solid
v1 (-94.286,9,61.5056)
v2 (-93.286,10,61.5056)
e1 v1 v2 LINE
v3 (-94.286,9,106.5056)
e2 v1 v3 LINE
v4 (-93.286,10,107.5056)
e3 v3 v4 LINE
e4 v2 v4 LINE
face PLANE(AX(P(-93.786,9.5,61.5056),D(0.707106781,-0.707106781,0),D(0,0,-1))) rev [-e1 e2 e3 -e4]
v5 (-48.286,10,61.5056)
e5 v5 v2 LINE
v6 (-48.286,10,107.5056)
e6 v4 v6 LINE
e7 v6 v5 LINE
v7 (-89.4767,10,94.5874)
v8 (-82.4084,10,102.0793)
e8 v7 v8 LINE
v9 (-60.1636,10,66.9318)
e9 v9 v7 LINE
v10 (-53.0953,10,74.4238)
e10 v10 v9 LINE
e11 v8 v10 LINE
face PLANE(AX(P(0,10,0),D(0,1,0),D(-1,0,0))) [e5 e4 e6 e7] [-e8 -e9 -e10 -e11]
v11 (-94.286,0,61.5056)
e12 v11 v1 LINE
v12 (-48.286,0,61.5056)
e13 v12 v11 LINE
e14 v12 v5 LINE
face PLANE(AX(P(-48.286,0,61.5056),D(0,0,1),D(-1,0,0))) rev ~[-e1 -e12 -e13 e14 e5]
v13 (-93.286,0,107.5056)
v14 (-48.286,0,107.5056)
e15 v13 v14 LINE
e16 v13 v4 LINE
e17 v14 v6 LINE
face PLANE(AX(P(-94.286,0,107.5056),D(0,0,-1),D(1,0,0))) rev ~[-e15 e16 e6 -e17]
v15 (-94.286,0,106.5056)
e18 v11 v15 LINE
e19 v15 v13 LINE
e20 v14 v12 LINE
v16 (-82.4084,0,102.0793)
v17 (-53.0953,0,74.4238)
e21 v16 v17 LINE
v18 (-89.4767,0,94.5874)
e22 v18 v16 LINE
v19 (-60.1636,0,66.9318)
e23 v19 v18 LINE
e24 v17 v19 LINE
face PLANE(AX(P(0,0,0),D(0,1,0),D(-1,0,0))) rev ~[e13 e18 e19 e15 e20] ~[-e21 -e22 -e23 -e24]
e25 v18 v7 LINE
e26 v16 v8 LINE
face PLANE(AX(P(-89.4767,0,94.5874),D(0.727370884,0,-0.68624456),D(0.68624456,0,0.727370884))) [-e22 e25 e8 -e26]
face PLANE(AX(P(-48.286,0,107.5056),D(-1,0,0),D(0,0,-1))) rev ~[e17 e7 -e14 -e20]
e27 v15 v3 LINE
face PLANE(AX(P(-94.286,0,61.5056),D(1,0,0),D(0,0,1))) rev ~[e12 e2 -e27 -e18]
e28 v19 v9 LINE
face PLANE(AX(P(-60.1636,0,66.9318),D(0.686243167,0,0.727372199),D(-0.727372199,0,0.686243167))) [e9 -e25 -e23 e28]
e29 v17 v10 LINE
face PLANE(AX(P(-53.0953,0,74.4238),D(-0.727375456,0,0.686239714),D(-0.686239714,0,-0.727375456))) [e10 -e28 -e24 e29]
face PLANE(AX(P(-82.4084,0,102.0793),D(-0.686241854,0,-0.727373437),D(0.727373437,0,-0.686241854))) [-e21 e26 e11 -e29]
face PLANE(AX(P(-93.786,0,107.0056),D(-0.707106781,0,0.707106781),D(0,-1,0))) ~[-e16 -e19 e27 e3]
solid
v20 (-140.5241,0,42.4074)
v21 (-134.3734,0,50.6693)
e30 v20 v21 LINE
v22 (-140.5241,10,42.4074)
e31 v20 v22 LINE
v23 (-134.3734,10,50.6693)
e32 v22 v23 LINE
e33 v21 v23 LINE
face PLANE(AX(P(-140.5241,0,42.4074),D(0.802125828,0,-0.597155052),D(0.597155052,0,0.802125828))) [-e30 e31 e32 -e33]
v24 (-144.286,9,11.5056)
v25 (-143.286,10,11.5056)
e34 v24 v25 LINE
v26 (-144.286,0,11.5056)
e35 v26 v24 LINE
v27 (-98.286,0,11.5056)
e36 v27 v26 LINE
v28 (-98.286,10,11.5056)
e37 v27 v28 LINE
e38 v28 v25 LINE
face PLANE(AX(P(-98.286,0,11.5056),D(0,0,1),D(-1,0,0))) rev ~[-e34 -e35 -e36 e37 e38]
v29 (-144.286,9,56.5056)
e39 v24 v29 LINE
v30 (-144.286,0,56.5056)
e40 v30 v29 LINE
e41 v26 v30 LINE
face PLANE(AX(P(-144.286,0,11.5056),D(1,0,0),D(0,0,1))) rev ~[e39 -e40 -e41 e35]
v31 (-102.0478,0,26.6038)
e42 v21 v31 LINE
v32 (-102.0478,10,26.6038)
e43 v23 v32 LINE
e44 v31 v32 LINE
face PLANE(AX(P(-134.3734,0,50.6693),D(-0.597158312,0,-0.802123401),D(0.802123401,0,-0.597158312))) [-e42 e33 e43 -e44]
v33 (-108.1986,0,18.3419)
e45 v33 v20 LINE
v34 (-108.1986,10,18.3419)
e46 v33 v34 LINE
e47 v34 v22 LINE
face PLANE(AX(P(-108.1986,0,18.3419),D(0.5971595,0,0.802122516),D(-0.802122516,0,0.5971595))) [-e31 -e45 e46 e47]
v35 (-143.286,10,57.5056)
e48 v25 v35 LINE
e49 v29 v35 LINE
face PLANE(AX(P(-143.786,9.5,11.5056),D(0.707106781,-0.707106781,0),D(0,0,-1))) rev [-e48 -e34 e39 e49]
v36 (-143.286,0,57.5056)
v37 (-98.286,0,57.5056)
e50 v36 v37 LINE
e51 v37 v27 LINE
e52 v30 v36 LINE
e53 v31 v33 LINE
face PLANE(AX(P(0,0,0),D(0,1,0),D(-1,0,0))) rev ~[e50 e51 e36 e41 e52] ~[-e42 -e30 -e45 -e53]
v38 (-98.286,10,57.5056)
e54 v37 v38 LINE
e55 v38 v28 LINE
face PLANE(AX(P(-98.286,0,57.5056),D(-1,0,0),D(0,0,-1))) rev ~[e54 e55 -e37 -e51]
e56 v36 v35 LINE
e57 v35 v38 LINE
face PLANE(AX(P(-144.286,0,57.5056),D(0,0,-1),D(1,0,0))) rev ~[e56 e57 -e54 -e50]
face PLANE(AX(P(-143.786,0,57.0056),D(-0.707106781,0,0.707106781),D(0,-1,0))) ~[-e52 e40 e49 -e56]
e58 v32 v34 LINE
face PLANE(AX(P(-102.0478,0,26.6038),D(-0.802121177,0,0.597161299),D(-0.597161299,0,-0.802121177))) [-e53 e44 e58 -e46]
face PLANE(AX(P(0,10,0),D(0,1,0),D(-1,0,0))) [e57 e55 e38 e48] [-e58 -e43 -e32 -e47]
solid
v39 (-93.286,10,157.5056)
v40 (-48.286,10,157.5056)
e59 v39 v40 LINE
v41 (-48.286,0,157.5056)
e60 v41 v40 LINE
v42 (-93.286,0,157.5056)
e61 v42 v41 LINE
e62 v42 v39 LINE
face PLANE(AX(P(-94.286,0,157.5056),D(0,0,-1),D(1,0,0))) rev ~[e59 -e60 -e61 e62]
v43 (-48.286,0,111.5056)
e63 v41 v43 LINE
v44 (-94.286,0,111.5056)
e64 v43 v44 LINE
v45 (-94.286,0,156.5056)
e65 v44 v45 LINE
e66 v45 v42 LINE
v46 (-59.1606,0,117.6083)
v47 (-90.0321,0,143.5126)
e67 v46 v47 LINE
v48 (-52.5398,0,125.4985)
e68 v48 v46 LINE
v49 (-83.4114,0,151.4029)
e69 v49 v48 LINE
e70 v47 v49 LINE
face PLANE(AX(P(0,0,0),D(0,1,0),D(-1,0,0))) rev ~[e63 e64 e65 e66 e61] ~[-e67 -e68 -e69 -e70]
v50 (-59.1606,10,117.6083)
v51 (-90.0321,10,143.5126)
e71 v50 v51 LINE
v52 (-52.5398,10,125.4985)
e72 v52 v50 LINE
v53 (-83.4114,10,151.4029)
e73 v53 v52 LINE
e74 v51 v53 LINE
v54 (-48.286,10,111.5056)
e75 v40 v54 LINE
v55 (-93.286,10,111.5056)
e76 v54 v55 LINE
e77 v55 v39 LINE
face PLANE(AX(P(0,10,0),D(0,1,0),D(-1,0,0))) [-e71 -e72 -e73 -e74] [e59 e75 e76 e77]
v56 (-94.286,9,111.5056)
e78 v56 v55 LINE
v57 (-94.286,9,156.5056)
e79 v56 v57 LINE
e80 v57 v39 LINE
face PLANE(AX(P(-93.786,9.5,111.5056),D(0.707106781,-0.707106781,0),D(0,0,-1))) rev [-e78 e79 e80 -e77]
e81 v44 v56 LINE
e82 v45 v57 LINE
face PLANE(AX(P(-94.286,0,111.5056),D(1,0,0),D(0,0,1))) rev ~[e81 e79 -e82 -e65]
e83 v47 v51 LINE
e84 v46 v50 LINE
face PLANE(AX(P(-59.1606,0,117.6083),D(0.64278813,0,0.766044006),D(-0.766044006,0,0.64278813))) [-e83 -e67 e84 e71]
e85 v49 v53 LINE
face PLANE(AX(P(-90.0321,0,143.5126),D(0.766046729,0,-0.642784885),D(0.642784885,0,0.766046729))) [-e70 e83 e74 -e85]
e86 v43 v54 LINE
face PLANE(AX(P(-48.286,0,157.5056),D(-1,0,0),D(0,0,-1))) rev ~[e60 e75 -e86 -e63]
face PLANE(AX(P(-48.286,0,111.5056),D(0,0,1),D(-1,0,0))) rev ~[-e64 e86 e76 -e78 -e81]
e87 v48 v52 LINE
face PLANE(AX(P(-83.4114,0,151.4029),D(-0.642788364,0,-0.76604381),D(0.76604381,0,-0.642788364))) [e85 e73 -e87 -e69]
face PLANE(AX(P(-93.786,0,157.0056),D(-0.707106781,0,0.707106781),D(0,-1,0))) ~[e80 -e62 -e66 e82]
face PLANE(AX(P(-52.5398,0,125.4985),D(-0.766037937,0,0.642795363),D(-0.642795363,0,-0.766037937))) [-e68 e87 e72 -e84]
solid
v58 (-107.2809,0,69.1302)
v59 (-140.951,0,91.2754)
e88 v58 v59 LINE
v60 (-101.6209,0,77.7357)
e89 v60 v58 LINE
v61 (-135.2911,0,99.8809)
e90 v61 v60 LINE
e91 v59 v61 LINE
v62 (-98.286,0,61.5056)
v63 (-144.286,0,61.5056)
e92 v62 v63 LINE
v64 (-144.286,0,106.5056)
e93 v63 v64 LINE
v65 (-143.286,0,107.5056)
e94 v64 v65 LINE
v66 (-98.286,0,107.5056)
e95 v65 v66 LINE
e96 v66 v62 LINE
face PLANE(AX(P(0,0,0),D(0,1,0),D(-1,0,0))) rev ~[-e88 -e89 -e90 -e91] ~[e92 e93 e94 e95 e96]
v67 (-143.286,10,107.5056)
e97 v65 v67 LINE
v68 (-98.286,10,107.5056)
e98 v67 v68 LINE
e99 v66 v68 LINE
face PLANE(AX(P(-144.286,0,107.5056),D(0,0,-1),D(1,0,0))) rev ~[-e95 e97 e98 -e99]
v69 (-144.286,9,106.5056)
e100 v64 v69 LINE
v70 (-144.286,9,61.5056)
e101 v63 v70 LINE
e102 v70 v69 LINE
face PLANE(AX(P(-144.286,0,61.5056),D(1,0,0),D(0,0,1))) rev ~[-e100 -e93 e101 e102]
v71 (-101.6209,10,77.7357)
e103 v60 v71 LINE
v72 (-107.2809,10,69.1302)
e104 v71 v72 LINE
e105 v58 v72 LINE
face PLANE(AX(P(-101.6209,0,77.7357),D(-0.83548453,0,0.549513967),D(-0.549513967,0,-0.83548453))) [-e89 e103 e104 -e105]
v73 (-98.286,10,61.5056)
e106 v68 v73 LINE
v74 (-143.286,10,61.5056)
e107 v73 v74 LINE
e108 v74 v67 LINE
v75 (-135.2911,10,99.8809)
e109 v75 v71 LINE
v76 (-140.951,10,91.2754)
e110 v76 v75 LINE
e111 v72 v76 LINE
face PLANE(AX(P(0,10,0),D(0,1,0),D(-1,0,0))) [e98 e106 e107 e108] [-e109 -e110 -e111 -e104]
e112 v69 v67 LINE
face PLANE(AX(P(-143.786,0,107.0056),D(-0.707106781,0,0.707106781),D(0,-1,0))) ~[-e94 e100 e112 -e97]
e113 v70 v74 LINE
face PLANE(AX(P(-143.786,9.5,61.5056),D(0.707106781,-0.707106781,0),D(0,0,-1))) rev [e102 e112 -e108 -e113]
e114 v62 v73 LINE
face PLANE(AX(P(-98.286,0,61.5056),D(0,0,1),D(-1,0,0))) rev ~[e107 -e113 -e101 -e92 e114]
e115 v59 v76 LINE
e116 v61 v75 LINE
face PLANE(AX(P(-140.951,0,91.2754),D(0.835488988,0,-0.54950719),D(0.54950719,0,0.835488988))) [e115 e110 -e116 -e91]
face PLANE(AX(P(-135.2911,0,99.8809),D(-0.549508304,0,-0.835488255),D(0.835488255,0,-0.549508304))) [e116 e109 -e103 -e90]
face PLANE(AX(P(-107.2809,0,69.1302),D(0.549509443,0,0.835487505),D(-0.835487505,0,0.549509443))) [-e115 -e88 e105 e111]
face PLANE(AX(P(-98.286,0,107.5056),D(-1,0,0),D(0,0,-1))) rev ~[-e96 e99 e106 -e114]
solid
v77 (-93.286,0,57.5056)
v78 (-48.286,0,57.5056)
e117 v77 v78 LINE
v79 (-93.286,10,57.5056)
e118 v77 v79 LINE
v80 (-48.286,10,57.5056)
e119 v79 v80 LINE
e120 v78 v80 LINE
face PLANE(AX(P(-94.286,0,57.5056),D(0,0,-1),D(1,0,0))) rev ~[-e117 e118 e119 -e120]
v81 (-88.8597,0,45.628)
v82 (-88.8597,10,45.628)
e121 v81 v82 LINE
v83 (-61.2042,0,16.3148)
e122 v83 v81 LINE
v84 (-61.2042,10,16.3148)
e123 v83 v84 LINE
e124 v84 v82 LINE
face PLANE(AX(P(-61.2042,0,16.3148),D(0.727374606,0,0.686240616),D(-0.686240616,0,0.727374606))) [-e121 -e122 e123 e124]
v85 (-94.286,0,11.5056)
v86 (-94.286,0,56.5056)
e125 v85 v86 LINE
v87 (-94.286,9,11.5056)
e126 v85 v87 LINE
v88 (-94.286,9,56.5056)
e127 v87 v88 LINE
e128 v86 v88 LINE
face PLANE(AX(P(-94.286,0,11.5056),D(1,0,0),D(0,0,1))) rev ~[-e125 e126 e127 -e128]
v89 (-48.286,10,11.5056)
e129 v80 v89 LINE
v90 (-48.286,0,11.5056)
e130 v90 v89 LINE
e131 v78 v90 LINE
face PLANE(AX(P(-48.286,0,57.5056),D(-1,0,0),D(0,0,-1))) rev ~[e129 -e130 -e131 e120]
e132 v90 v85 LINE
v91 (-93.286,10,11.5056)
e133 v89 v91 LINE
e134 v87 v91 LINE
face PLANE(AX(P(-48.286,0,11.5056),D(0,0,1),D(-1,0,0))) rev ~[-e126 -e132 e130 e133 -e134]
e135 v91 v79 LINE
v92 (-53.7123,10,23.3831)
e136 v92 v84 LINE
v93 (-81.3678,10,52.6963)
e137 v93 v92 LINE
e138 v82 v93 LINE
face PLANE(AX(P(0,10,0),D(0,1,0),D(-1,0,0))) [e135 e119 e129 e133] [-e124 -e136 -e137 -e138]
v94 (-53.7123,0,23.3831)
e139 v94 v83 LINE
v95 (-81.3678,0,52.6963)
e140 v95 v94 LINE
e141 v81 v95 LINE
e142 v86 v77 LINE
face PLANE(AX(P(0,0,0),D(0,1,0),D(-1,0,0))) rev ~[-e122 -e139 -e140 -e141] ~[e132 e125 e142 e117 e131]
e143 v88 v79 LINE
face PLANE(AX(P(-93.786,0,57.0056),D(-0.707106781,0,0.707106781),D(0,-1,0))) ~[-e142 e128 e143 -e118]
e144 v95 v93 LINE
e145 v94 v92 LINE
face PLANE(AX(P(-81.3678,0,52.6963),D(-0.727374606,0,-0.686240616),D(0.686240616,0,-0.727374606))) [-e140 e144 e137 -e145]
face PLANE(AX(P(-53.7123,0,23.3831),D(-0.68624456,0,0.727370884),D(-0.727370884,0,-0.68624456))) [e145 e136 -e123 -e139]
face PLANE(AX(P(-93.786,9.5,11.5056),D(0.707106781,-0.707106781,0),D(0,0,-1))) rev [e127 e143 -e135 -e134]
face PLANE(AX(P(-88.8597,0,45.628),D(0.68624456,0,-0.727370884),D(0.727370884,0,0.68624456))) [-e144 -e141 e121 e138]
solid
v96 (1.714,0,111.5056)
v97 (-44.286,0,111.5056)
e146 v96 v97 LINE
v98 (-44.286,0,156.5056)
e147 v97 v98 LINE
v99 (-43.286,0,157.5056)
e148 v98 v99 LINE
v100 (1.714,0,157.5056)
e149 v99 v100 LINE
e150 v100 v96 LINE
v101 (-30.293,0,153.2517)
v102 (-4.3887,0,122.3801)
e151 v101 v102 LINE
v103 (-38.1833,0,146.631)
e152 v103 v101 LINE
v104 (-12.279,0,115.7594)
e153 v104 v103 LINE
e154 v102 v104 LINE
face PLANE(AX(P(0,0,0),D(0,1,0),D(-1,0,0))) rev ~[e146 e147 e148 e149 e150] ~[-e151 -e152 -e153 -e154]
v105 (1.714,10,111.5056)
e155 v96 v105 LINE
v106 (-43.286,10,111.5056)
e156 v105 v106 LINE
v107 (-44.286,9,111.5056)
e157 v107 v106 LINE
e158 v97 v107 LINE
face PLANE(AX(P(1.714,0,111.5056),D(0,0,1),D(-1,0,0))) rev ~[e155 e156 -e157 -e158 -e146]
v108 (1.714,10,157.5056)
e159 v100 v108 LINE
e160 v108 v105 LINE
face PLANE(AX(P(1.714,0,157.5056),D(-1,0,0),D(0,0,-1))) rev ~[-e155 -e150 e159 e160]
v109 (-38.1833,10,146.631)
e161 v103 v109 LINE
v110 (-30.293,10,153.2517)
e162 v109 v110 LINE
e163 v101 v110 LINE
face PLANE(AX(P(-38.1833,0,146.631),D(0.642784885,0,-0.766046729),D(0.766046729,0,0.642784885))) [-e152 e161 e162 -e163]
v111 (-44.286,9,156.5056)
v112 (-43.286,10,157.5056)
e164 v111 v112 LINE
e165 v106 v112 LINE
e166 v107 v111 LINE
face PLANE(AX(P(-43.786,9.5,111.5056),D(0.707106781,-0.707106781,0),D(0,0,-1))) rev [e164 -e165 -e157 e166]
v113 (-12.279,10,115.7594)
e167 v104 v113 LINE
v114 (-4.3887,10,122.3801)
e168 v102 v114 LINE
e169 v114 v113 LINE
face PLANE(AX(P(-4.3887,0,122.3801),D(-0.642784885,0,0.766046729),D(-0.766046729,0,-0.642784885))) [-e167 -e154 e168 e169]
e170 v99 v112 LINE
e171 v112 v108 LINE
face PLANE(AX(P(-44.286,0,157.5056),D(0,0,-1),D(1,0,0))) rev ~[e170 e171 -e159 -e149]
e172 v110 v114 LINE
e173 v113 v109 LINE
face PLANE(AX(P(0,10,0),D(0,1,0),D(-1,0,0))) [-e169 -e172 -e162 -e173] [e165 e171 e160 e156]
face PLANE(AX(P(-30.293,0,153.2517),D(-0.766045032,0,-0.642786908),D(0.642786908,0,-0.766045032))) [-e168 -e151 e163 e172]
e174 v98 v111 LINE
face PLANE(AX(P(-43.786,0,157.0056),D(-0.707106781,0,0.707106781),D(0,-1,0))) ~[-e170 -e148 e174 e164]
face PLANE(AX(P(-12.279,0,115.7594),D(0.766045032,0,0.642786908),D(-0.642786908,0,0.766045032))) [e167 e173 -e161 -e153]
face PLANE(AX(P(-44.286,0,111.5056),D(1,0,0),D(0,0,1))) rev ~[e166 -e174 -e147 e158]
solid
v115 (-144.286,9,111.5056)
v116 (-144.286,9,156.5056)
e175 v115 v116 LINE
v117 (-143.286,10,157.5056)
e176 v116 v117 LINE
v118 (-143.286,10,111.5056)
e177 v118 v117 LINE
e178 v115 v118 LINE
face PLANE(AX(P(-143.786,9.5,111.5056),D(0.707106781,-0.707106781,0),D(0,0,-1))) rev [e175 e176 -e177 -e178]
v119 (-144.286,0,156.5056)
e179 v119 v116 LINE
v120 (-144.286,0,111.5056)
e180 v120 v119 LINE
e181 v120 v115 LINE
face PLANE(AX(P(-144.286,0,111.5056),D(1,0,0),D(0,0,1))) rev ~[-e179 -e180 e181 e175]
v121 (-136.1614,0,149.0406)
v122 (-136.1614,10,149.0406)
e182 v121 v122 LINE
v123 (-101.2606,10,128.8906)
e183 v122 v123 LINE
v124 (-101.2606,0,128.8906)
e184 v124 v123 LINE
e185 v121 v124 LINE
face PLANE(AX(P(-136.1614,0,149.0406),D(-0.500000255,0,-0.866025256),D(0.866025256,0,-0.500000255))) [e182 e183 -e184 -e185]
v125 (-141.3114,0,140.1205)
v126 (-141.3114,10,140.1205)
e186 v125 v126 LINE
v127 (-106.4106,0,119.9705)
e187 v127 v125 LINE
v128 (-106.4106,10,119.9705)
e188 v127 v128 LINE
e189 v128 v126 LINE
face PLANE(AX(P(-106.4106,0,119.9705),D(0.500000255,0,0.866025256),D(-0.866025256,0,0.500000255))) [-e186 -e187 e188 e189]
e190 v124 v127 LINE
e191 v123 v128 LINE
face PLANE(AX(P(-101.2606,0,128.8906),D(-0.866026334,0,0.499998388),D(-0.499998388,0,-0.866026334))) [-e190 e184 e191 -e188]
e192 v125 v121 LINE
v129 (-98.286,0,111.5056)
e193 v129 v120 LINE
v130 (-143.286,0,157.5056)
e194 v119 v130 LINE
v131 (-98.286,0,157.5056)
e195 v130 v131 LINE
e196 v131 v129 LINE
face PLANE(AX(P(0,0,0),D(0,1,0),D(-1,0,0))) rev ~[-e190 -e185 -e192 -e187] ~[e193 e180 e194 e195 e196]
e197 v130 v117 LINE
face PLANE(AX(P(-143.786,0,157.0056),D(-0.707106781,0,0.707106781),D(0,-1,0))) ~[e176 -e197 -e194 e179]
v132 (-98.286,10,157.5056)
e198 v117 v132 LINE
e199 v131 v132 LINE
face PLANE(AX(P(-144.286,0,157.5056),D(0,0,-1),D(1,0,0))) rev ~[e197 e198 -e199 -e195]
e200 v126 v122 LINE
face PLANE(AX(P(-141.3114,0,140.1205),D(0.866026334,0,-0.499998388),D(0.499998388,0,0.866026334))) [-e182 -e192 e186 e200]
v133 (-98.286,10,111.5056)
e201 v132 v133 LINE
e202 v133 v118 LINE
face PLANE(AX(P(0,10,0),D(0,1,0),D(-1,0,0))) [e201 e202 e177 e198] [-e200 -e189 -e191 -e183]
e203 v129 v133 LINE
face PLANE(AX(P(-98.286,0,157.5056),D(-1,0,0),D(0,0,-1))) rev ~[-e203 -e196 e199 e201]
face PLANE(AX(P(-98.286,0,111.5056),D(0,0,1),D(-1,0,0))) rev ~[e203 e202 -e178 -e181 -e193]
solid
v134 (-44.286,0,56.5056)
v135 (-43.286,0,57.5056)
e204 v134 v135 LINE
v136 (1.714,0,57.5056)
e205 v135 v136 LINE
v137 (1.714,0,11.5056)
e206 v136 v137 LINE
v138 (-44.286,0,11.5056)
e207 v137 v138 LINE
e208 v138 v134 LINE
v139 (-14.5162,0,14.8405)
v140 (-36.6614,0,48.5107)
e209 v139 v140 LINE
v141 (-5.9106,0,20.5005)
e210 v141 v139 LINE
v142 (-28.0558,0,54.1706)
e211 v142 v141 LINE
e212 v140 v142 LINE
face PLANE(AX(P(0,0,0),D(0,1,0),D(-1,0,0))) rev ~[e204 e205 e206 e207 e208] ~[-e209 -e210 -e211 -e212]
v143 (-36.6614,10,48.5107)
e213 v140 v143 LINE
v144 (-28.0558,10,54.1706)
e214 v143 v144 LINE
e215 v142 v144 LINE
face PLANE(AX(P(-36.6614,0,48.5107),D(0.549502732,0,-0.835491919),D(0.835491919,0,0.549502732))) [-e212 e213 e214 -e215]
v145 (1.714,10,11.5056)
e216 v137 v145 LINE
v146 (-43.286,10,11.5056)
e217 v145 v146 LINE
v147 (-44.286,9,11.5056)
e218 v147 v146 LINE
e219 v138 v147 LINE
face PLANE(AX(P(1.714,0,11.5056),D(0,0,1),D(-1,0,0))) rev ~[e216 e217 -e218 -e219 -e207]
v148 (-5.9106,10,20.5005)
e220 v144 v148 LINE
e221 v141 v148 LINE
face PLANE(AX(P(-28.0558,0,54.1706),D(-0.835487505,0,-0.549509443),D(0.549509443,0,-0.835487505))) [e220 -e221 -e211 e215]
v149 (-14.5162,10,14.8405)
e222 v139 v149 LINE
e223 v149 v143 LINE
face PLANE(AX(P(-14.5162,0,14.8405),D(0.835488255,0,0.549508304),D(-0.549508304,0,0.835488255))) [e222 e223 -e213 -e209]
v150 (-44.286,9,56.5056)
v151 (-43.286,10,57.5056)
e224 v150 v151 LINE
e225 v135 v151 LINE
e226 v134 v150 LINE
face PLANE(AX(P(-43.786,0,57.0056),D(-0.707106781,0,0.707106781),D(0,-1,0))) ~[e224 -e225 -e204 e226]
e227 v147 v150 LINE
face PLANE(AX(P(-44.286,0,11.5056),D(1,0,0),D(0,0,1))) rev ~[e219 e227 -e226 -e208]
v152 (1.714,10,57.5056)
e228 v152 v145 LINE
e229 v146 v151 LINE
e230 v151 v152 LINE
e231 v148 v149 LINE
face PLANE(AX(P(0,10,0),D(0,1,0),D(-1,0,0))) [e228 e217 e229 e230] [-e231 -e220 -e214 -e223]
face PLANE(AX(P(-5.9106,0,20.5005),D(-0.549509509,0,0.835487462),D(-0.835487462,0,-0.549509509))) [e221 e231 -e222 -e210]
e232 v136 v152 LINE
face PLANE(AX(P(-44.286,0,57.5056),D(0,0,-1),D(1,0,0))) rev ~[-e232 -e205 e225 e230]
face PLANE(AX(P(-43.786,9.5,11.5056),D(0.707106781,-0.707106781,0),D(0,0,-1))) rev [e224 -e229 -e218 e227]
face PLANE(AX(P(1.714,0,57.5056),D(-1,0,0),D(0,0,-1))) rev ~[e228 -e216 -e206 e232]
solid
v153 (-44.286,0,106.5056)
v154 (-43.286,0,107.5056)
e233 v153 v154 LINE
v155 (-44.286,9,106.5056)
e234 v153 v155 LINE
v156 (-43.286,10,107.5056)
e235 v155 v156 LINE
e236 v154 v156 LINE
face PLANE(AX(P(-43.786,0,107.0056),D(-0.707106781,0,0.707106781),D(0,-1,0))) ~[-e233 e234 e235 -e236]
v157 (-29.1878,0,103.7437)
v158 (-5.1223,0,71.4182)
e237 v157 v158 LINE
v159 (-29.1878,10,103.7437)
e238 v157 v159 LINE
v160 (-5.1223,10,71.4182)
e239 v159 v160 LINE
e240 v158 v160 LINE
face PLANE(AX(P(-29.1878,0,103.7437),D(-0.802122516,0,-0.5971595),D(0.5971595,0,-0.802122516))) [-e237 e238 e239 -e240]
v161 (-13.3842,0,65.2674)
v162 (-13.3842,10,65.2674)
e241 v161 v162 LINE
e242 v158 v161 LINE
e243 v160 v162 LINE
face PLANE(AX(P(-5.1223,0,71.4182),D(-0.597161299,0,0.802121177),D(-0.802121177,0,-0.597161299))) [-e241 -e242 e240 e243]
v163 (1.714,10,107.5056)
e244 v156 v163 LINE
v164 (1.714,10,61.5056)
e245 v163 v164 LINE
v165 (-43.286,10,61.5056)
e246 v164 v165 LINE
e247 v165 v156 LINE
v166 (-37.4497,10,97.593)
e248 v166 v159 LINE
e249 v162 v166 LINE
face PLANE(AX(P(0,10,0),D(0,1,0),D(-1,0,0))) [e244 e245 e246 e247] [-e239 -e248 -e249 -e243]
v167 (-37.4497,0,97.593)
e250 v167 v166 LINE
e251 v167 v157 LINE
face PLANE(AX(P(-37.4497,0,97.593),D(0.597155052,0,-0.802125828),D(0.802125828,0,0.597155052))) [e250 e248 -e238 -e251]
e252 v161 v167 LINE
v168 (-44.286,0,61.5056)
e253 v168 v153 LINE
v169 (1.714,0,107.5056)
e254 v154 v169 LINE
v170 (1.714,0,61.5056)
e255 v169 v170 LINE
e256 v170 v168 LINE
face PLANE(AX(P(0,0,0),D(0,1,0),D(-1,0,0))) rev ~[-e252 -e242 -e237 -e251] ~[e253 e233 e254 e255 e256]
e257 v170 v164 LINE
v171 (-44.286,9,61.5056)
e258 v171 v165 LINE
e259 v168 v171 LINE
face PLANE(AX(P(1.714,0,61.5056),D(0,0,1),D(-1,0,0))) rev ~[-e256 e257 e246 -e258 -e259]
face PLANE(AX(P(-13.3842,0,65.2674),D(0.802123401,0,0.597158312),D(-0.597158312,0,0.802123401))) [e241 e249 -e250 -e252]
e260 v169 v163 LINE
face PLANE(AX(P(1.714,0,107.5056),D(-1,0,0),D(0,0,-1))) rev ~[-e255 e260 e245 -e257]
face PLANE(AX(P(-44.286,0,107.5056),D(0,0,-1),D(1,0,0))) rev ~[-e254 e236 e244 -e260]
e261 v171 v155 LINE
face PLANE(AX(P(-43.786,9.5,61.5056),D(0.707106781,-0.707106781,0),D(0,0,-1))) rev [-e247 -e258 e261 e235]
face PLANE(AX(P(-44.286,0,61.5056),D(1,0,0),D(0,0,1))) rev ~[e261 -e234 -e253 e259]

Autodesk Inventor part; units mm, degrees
ref_plane "YZ Plane" through (0, 0, 0) normal (1, 0, 0) x (0, 1, 0)
ref_plane "XZ Plane" through (0, 0, 0) normal (0, 1, 0) x (-1, 0, 0)
ref_plane "XY Plane" through (0, 0, 0) normal (0, 0, 1) x (1, 0, 0)
sketch "Sketch1" plane through (0, 0, 0) normal (0, 1, 0) x (-1, 0, 0)
  line L0 (44.286, 57.5056) -> (-1.714, 57.5056)
  line L1 (-1.714, 57.5056) -> (-1.714, 11.5056)
  line L2 (-1.714, 11.5056) -> (44.286, 11.5056)
  line L3 (44.286, 11.5056) -> (44.286, 57.5056)
  line L4 (21.286, 57.5056) -> (21.286, 11.5056) construction
  line L5 (44.286, 34.5056) -> (-1.714, 34.5056) construction
  line L6 (32.0821, 50.9202) -> (21.286, 34.5056) construction
  line L7 (21.286, 34.5056) -> (12.8023, 40.0854) construction
  line L8 (36.6614, 48.5107) -> (28.0558, 54.1706)
  line L9 (28.0558, 54.1706) -> (5.9106, 20.5005)
  line L10 (5.9106, 20.5005) -> (14.5162, 14.8405)
  line L11 (14.5162, 14.8405) -> (36.6614, 48.5107)
  line L12 (94.286, 57.5056) -> (48.286, 57.5056)
  line L13 (48.286, 57.5056) -> (48.286, 11.5056)
  line L14 (48.286, 11.5056) -> (94.286, 11.5056)
  line L15 (94.286, 11.5056) -> (94.286, 57.5056)
  line L16 (71.286, 57.5056) -> (71.286, 11.5056) construction
  line L17 (94.286, 34.5056) -> (48.286, 34.5056) construction
  line L18 (84.7685, 48.7961) -> (71.286, 34.5056) construction
  line L19 (71.286, 34.5056) -> (63.9001, 41.4738) construction
  line L20 (88.8597, 45.628) -> (81.3678, 52.6963)
  line L21 (81.3678, 52.6963) -> (53.7123, 23.3831)
  line L22 (53.7123, 23.3831) -> (61.2042, 16.3148)
  line L23 (61.2042, 16.3148) -> (88.8597, 45.628)
  line L24 (144.286, 57.5056) -> (98.286, 57.5056)
  line L25 (98.286, 57.5056) -> (98.286, 11.5056)
  line L26 (98.286, 11.5056) -> (144.286, 11.5056)
  line L27 (144.286, 11.5056) -> (144.286, 57.5056)
  line L28 (121.286, 57.5056) -> (121.286, 11.5056) construction
  line L29 (144.286, 34.5056) -> (98.286, 34.5056) construction
  line L30 (137.0452, 46.2378) -> (121.286, 34.5056) construction
  line L31 (121.286, 34.5056) -> (115.2223, 42.6505) construction
  line L32 (140.5241, 42.4074) -> (134.3734, 50.6693)
  line L33 (134.3734, 50.6693) -> (102.0478, 26.6038)
  line L34 (102.0478, 26.6038) -> (108.1986, 18.3419)
  line L35 (108.1986, 18.3419) -> (140.5241, 42.4074)
  line L36 (44.286, 107.5056) -> (-1.714, 107.5056)
  line L37 (-1.714, 107.5056) -> (-1.714, 61.5056)
  line L38 (-1.714, 61.5056) -> (44.286, 61.5056)
  line L39 (44.286, 61.5056) -> (44.286, 107.5056)
  line L40 (21.286, 107.5056) -> (21.286, 61.5056) construction
  line L41 (44.286, 84.5056) -> (-1.714, 84.5056) construction
  line L42 (33.0183, 100.2647) -> (21.286, 84.5056) construction
  line L43 (21.286, 84.5056) -> (13.141, 90.5693) construction
  line L44 (37.4497, 97.593) -> (29.1878, 103.7437)
  line L45 (29.1878, 103.7437) -> (5.1223, 71.4182)
  line L46 (5.1223, 71.4182) -> (13.3842, 65.2674)
  line L47 (13.3842, 65.2674) -> (37.4497, 97.593)
  line L48 (44.286, 157.5056) -> (-1.714, 157.5056)
  line L49 (-1.714, 157.5056) -> (-1.714, 111.5056)
  line L50 (-1.714, 111.5056) -> (44.286, 111.5056)
  line L51 (44.286, 111.5056) -> (44.286, 157.5056)
  line L52 (21.286, 157.5056) -> (21.286, 111.5056) construction
  line L53 (44.286, 134.5056) -> (-1.714, 134.5056) construction
  line L54 (33.9147, 149.5559) -> (21.286, 134.5056) construction
  line L55 (21.286, 134.5056) -> (13.5074, 141.0326) construction
  line L56 (38.1833, 146.631) -> (30.293, 153.2517)
  line L57 (30.293, 153.2517) -> (4.3887, 122.3801)
  line L58 (4.3887, 122.3801) -> (12.279, 115.7594)
  line L59 (12.279, 115.7594) -> (38.1833, 146.631)
  line L60 (94.286, 107.5056) -> (48.286, 107.5056)
  line L61 (48.286, 107.5056) -> (48.286, 61.5056)
  line L62 (48.286, 61.5056) -> (94.286, 61.5056)
  line L63 (94.286, 61.5056) -> (94.286, 107.5056)
  line L64 (71.286, 107.5056) -> (71.286, 61.5056) construction
  line L65 (94.286, 84.5056) -> (48.286, 84.5056) construction
  line L66 (85.5766, 97.988) -> (71.286, 84.5056) construction
  line L67 (71.286, 84.5056) -> (64.3177, 91.8915) construction
  line L68 (89.4767, 94.5874) -> (82.4084, 102.0793)
  line L69 (82.4084, 102.0793) -> (53.0953, 74.4238)
  line L70 (53.0953, 74.4238) -> (60.1636, 66.9318)
  line L71 (60.1636, 66.9318) -> (89.4767, 94.5874)
  line L72 (94.286, 157.5056) -> (48.286, 157.5056)
  line L73 (48.286, 157.5056) -> (48.286, 111.5056)
  line L74 (48.286, 111.5056) -> (94.286, 111.5056)
  line L75 (94.286, 111.5056) -> (94.286, 157.5056)
  line L76 (71.286, 157.5056) -> (71.286, 111.5056) construction
  line L77 (94.286, 134.5056) -> (48.286, 134.5056) construction
  line L78 (86.3363, 147.1343) -> (71.286, 134.5056) construction
  line L79 (71.286, 134.5056) -> (64.759, 142.2842) construction
  line L80 (90.0321, 143.5126) -> (83.4114, 151.4029)
  line L81 (83.4114, 151.4029) -> (52.5398, 125.4985)
  line L82 (52.5398, 125.4985) -> (59.1606, 117.6083)
  line L83 (59.1606, 117.6083) -> (90.0321, 143.5126)
  line L84 (144.286, 107.5056) -> (98.286, 107.5056)
  line L85 (98.286, 107.5056) -> (98.286, 61.5056)
  line L86 (98.286, 61.5056) -> (144.286, 61.5056)
  line L87 (144.286, 61.5056) -> (144.286, 107.5056)
  line L88 (121.286, 107.5056) -> (121.286, 61.5056) construction
  line L89 (144.286, 84.5056) -> (98.286, 84.5056) construction
  line L90 (137.7007, 95.3017) -> (121.286, 84.5056) construction
  line L91 (121.286, 84.5056) -> (115.7062, 92.9893) construction
  line L92 (140.951, 91.2754) -> (135.2911, 99.8809)
  line L93 (135.2911, 99.8809) -> (101.6209, 77.7357)
  line L94 (101.6209, 77.7357) -> (107.2809, 69.1302)
  line L95 (107.2809, 69.1302) -> (140.951, 91.2754)
  line L96 (144.286, 157.5056) -> (98.286, 157.5056)
  line L97 (98.286, 157.5056) -> (98.286, 111.5056)
  line L98 (98.286, 111.5056) -> (144.286, 111.5056)
  line L99 (144.286, 111.5056) -> (144.286, 157.5056)
  line L100 (121.286, 157.5056) -> (121.286, 111.5056) construction
  line L101 (144.286, 134.5056) -> (98.286, 134.5056) construction
  line L102 (138.3006, 144.329) -> (121.286, 134.5056) construction
  line L103 (121.286, 134.5056) -> (116.2089, 143.2994) construction
  line L104 (141.3114, 140.1205) -> (136.1614, 149.0406)
  line L105 (136.1614, 149.0406) -> (101.2606, 128.8906)
  line L106 (101.2606, 128.8906) -> (106.4106, 119.9705)
  line L107 (106.4106, 119.9705) -> (141.3114, 140.1205)
  dimension "w" = 46
  dimension "d65" = 46
  dimension "d" = 10.3
  dimension "d67" = 40.3
  dimension "d68" = 56.667
  dimension "d69" = 46
  dimension "d70" = 46
  dimension "d71" = 10.3
  dimension "d72" = 40.3
  dimension "d73" = 46.667
  dimension "d76" = 46
  dimension "d77" = 46
  dimension "d78" = 10.3
  dimension "d79" = 40.3
  dimension "d80" = 36.667
  dimension "d83" = 46
  dimension "d84" = 46
  dimension "d85" = 10.3
  dimension "d86" = 40.3
  dimension "d87" = 53.333
  dimension "d90" = 46
  dimension "d91" = 46
  dimension "d92" = 10.3
  dimension "d93" = 40.3
  dimension "d94" = 50
  dimension "d97" = 46
  dimension "d98" = 46
  dimension "d99" = 10.3
  dimension "d100" = 40.3
  dimension "d101" = 43.333
  dimension "d104" = 46
  dimension "d105" = 46
  dimension "d106" = 10.3
  dimension "d107" = 40.3
  dimension "d108" = 40
  dimension "d111" = 46
  dimension "d112" = 46
  dimension "d113" = 10.3
  dimension "d114" = 40.3
  dimension "d115" = 33.333
  dimension "d118" = 46
  dimension "d119" = 46
  dimension "d120" = 10.3
  dimension "d121" = 40.3
  dimension "d122" = 30
extrude "Extrusion1" add sketch "Sketch1" along normal blind 10
chamfer "Chamfer1" distance 1 angle 45 18 edges at (-144.286, 10, 134.5056) (-144.286, 10, 84.5056) (-144.286, 10, 34.5056) (-94.286, 10, 134.5056) (-94.286, 10, 84.5056) (-94.286, 10, 34.5056) (-44.286, 10, 34.5056) (-44.286, 10, 84.5056) (-44.286, 10, 134.5056) (-144.286, 5, 157.5056) (-144.286, 5, 107.5056) (-144.286, 5, 57.5056) (-94.286, 5, 157.5056) (-94.286, 5, 107.5056) (-94.286, 5, 57.5056) (-44.286, 5, 157.5056) (-44.286, 5, 107.5056) (-44.286, 5, 57.5056)
equation "\"d68\" = a0 + 8 * ad"
equation "\"d73\" = a0 + 5 * ad"
equation "\"d80\" = a0 + 2 * ad"
equation "\"d87\" = a0 + 7 * ad"
equation "\"d94\" = a0 + 6 * ad"
equation "\"d101\" = a0 + 4 * ad"
equation "\"d108\" = a0 + 3 * ad"
equation "\"d115\" = a0 + ad"
equation "\"d122\" = a0 + 0 * ad"
equation "\"ad\" = 3.33333deg"
equation "\"d74\" = 0 * d75"
equation "\"d75\" = 3.333333deg"
equation "\"d81\" = 0 * d82"
equation "\"d82\" = 3.333333deg"
equation "\"d88\" = 0 * d89"
equation "\"d89\" = 3.333333deg"
equation "\"d95\" = 0 * d96"
equation "\"d96\" = 3.333333deg"
equation "\"d102\" = 0 * d103"
equation "\"d103\" = 3.333333deg"
equation "\"d109\" = 0 * d110"
equation "\"d110\" = 3.333333deg"
equation "\"d116\" = 0 * d117"
equation "\"d117\" = 3.333333deg"
equation "\"d123\" = 0 * d124"
equation "\"d124\" = 3.333333deg"
equation "\"a0\" = 30deg"
properties part number "magnet-54-offset-9"
